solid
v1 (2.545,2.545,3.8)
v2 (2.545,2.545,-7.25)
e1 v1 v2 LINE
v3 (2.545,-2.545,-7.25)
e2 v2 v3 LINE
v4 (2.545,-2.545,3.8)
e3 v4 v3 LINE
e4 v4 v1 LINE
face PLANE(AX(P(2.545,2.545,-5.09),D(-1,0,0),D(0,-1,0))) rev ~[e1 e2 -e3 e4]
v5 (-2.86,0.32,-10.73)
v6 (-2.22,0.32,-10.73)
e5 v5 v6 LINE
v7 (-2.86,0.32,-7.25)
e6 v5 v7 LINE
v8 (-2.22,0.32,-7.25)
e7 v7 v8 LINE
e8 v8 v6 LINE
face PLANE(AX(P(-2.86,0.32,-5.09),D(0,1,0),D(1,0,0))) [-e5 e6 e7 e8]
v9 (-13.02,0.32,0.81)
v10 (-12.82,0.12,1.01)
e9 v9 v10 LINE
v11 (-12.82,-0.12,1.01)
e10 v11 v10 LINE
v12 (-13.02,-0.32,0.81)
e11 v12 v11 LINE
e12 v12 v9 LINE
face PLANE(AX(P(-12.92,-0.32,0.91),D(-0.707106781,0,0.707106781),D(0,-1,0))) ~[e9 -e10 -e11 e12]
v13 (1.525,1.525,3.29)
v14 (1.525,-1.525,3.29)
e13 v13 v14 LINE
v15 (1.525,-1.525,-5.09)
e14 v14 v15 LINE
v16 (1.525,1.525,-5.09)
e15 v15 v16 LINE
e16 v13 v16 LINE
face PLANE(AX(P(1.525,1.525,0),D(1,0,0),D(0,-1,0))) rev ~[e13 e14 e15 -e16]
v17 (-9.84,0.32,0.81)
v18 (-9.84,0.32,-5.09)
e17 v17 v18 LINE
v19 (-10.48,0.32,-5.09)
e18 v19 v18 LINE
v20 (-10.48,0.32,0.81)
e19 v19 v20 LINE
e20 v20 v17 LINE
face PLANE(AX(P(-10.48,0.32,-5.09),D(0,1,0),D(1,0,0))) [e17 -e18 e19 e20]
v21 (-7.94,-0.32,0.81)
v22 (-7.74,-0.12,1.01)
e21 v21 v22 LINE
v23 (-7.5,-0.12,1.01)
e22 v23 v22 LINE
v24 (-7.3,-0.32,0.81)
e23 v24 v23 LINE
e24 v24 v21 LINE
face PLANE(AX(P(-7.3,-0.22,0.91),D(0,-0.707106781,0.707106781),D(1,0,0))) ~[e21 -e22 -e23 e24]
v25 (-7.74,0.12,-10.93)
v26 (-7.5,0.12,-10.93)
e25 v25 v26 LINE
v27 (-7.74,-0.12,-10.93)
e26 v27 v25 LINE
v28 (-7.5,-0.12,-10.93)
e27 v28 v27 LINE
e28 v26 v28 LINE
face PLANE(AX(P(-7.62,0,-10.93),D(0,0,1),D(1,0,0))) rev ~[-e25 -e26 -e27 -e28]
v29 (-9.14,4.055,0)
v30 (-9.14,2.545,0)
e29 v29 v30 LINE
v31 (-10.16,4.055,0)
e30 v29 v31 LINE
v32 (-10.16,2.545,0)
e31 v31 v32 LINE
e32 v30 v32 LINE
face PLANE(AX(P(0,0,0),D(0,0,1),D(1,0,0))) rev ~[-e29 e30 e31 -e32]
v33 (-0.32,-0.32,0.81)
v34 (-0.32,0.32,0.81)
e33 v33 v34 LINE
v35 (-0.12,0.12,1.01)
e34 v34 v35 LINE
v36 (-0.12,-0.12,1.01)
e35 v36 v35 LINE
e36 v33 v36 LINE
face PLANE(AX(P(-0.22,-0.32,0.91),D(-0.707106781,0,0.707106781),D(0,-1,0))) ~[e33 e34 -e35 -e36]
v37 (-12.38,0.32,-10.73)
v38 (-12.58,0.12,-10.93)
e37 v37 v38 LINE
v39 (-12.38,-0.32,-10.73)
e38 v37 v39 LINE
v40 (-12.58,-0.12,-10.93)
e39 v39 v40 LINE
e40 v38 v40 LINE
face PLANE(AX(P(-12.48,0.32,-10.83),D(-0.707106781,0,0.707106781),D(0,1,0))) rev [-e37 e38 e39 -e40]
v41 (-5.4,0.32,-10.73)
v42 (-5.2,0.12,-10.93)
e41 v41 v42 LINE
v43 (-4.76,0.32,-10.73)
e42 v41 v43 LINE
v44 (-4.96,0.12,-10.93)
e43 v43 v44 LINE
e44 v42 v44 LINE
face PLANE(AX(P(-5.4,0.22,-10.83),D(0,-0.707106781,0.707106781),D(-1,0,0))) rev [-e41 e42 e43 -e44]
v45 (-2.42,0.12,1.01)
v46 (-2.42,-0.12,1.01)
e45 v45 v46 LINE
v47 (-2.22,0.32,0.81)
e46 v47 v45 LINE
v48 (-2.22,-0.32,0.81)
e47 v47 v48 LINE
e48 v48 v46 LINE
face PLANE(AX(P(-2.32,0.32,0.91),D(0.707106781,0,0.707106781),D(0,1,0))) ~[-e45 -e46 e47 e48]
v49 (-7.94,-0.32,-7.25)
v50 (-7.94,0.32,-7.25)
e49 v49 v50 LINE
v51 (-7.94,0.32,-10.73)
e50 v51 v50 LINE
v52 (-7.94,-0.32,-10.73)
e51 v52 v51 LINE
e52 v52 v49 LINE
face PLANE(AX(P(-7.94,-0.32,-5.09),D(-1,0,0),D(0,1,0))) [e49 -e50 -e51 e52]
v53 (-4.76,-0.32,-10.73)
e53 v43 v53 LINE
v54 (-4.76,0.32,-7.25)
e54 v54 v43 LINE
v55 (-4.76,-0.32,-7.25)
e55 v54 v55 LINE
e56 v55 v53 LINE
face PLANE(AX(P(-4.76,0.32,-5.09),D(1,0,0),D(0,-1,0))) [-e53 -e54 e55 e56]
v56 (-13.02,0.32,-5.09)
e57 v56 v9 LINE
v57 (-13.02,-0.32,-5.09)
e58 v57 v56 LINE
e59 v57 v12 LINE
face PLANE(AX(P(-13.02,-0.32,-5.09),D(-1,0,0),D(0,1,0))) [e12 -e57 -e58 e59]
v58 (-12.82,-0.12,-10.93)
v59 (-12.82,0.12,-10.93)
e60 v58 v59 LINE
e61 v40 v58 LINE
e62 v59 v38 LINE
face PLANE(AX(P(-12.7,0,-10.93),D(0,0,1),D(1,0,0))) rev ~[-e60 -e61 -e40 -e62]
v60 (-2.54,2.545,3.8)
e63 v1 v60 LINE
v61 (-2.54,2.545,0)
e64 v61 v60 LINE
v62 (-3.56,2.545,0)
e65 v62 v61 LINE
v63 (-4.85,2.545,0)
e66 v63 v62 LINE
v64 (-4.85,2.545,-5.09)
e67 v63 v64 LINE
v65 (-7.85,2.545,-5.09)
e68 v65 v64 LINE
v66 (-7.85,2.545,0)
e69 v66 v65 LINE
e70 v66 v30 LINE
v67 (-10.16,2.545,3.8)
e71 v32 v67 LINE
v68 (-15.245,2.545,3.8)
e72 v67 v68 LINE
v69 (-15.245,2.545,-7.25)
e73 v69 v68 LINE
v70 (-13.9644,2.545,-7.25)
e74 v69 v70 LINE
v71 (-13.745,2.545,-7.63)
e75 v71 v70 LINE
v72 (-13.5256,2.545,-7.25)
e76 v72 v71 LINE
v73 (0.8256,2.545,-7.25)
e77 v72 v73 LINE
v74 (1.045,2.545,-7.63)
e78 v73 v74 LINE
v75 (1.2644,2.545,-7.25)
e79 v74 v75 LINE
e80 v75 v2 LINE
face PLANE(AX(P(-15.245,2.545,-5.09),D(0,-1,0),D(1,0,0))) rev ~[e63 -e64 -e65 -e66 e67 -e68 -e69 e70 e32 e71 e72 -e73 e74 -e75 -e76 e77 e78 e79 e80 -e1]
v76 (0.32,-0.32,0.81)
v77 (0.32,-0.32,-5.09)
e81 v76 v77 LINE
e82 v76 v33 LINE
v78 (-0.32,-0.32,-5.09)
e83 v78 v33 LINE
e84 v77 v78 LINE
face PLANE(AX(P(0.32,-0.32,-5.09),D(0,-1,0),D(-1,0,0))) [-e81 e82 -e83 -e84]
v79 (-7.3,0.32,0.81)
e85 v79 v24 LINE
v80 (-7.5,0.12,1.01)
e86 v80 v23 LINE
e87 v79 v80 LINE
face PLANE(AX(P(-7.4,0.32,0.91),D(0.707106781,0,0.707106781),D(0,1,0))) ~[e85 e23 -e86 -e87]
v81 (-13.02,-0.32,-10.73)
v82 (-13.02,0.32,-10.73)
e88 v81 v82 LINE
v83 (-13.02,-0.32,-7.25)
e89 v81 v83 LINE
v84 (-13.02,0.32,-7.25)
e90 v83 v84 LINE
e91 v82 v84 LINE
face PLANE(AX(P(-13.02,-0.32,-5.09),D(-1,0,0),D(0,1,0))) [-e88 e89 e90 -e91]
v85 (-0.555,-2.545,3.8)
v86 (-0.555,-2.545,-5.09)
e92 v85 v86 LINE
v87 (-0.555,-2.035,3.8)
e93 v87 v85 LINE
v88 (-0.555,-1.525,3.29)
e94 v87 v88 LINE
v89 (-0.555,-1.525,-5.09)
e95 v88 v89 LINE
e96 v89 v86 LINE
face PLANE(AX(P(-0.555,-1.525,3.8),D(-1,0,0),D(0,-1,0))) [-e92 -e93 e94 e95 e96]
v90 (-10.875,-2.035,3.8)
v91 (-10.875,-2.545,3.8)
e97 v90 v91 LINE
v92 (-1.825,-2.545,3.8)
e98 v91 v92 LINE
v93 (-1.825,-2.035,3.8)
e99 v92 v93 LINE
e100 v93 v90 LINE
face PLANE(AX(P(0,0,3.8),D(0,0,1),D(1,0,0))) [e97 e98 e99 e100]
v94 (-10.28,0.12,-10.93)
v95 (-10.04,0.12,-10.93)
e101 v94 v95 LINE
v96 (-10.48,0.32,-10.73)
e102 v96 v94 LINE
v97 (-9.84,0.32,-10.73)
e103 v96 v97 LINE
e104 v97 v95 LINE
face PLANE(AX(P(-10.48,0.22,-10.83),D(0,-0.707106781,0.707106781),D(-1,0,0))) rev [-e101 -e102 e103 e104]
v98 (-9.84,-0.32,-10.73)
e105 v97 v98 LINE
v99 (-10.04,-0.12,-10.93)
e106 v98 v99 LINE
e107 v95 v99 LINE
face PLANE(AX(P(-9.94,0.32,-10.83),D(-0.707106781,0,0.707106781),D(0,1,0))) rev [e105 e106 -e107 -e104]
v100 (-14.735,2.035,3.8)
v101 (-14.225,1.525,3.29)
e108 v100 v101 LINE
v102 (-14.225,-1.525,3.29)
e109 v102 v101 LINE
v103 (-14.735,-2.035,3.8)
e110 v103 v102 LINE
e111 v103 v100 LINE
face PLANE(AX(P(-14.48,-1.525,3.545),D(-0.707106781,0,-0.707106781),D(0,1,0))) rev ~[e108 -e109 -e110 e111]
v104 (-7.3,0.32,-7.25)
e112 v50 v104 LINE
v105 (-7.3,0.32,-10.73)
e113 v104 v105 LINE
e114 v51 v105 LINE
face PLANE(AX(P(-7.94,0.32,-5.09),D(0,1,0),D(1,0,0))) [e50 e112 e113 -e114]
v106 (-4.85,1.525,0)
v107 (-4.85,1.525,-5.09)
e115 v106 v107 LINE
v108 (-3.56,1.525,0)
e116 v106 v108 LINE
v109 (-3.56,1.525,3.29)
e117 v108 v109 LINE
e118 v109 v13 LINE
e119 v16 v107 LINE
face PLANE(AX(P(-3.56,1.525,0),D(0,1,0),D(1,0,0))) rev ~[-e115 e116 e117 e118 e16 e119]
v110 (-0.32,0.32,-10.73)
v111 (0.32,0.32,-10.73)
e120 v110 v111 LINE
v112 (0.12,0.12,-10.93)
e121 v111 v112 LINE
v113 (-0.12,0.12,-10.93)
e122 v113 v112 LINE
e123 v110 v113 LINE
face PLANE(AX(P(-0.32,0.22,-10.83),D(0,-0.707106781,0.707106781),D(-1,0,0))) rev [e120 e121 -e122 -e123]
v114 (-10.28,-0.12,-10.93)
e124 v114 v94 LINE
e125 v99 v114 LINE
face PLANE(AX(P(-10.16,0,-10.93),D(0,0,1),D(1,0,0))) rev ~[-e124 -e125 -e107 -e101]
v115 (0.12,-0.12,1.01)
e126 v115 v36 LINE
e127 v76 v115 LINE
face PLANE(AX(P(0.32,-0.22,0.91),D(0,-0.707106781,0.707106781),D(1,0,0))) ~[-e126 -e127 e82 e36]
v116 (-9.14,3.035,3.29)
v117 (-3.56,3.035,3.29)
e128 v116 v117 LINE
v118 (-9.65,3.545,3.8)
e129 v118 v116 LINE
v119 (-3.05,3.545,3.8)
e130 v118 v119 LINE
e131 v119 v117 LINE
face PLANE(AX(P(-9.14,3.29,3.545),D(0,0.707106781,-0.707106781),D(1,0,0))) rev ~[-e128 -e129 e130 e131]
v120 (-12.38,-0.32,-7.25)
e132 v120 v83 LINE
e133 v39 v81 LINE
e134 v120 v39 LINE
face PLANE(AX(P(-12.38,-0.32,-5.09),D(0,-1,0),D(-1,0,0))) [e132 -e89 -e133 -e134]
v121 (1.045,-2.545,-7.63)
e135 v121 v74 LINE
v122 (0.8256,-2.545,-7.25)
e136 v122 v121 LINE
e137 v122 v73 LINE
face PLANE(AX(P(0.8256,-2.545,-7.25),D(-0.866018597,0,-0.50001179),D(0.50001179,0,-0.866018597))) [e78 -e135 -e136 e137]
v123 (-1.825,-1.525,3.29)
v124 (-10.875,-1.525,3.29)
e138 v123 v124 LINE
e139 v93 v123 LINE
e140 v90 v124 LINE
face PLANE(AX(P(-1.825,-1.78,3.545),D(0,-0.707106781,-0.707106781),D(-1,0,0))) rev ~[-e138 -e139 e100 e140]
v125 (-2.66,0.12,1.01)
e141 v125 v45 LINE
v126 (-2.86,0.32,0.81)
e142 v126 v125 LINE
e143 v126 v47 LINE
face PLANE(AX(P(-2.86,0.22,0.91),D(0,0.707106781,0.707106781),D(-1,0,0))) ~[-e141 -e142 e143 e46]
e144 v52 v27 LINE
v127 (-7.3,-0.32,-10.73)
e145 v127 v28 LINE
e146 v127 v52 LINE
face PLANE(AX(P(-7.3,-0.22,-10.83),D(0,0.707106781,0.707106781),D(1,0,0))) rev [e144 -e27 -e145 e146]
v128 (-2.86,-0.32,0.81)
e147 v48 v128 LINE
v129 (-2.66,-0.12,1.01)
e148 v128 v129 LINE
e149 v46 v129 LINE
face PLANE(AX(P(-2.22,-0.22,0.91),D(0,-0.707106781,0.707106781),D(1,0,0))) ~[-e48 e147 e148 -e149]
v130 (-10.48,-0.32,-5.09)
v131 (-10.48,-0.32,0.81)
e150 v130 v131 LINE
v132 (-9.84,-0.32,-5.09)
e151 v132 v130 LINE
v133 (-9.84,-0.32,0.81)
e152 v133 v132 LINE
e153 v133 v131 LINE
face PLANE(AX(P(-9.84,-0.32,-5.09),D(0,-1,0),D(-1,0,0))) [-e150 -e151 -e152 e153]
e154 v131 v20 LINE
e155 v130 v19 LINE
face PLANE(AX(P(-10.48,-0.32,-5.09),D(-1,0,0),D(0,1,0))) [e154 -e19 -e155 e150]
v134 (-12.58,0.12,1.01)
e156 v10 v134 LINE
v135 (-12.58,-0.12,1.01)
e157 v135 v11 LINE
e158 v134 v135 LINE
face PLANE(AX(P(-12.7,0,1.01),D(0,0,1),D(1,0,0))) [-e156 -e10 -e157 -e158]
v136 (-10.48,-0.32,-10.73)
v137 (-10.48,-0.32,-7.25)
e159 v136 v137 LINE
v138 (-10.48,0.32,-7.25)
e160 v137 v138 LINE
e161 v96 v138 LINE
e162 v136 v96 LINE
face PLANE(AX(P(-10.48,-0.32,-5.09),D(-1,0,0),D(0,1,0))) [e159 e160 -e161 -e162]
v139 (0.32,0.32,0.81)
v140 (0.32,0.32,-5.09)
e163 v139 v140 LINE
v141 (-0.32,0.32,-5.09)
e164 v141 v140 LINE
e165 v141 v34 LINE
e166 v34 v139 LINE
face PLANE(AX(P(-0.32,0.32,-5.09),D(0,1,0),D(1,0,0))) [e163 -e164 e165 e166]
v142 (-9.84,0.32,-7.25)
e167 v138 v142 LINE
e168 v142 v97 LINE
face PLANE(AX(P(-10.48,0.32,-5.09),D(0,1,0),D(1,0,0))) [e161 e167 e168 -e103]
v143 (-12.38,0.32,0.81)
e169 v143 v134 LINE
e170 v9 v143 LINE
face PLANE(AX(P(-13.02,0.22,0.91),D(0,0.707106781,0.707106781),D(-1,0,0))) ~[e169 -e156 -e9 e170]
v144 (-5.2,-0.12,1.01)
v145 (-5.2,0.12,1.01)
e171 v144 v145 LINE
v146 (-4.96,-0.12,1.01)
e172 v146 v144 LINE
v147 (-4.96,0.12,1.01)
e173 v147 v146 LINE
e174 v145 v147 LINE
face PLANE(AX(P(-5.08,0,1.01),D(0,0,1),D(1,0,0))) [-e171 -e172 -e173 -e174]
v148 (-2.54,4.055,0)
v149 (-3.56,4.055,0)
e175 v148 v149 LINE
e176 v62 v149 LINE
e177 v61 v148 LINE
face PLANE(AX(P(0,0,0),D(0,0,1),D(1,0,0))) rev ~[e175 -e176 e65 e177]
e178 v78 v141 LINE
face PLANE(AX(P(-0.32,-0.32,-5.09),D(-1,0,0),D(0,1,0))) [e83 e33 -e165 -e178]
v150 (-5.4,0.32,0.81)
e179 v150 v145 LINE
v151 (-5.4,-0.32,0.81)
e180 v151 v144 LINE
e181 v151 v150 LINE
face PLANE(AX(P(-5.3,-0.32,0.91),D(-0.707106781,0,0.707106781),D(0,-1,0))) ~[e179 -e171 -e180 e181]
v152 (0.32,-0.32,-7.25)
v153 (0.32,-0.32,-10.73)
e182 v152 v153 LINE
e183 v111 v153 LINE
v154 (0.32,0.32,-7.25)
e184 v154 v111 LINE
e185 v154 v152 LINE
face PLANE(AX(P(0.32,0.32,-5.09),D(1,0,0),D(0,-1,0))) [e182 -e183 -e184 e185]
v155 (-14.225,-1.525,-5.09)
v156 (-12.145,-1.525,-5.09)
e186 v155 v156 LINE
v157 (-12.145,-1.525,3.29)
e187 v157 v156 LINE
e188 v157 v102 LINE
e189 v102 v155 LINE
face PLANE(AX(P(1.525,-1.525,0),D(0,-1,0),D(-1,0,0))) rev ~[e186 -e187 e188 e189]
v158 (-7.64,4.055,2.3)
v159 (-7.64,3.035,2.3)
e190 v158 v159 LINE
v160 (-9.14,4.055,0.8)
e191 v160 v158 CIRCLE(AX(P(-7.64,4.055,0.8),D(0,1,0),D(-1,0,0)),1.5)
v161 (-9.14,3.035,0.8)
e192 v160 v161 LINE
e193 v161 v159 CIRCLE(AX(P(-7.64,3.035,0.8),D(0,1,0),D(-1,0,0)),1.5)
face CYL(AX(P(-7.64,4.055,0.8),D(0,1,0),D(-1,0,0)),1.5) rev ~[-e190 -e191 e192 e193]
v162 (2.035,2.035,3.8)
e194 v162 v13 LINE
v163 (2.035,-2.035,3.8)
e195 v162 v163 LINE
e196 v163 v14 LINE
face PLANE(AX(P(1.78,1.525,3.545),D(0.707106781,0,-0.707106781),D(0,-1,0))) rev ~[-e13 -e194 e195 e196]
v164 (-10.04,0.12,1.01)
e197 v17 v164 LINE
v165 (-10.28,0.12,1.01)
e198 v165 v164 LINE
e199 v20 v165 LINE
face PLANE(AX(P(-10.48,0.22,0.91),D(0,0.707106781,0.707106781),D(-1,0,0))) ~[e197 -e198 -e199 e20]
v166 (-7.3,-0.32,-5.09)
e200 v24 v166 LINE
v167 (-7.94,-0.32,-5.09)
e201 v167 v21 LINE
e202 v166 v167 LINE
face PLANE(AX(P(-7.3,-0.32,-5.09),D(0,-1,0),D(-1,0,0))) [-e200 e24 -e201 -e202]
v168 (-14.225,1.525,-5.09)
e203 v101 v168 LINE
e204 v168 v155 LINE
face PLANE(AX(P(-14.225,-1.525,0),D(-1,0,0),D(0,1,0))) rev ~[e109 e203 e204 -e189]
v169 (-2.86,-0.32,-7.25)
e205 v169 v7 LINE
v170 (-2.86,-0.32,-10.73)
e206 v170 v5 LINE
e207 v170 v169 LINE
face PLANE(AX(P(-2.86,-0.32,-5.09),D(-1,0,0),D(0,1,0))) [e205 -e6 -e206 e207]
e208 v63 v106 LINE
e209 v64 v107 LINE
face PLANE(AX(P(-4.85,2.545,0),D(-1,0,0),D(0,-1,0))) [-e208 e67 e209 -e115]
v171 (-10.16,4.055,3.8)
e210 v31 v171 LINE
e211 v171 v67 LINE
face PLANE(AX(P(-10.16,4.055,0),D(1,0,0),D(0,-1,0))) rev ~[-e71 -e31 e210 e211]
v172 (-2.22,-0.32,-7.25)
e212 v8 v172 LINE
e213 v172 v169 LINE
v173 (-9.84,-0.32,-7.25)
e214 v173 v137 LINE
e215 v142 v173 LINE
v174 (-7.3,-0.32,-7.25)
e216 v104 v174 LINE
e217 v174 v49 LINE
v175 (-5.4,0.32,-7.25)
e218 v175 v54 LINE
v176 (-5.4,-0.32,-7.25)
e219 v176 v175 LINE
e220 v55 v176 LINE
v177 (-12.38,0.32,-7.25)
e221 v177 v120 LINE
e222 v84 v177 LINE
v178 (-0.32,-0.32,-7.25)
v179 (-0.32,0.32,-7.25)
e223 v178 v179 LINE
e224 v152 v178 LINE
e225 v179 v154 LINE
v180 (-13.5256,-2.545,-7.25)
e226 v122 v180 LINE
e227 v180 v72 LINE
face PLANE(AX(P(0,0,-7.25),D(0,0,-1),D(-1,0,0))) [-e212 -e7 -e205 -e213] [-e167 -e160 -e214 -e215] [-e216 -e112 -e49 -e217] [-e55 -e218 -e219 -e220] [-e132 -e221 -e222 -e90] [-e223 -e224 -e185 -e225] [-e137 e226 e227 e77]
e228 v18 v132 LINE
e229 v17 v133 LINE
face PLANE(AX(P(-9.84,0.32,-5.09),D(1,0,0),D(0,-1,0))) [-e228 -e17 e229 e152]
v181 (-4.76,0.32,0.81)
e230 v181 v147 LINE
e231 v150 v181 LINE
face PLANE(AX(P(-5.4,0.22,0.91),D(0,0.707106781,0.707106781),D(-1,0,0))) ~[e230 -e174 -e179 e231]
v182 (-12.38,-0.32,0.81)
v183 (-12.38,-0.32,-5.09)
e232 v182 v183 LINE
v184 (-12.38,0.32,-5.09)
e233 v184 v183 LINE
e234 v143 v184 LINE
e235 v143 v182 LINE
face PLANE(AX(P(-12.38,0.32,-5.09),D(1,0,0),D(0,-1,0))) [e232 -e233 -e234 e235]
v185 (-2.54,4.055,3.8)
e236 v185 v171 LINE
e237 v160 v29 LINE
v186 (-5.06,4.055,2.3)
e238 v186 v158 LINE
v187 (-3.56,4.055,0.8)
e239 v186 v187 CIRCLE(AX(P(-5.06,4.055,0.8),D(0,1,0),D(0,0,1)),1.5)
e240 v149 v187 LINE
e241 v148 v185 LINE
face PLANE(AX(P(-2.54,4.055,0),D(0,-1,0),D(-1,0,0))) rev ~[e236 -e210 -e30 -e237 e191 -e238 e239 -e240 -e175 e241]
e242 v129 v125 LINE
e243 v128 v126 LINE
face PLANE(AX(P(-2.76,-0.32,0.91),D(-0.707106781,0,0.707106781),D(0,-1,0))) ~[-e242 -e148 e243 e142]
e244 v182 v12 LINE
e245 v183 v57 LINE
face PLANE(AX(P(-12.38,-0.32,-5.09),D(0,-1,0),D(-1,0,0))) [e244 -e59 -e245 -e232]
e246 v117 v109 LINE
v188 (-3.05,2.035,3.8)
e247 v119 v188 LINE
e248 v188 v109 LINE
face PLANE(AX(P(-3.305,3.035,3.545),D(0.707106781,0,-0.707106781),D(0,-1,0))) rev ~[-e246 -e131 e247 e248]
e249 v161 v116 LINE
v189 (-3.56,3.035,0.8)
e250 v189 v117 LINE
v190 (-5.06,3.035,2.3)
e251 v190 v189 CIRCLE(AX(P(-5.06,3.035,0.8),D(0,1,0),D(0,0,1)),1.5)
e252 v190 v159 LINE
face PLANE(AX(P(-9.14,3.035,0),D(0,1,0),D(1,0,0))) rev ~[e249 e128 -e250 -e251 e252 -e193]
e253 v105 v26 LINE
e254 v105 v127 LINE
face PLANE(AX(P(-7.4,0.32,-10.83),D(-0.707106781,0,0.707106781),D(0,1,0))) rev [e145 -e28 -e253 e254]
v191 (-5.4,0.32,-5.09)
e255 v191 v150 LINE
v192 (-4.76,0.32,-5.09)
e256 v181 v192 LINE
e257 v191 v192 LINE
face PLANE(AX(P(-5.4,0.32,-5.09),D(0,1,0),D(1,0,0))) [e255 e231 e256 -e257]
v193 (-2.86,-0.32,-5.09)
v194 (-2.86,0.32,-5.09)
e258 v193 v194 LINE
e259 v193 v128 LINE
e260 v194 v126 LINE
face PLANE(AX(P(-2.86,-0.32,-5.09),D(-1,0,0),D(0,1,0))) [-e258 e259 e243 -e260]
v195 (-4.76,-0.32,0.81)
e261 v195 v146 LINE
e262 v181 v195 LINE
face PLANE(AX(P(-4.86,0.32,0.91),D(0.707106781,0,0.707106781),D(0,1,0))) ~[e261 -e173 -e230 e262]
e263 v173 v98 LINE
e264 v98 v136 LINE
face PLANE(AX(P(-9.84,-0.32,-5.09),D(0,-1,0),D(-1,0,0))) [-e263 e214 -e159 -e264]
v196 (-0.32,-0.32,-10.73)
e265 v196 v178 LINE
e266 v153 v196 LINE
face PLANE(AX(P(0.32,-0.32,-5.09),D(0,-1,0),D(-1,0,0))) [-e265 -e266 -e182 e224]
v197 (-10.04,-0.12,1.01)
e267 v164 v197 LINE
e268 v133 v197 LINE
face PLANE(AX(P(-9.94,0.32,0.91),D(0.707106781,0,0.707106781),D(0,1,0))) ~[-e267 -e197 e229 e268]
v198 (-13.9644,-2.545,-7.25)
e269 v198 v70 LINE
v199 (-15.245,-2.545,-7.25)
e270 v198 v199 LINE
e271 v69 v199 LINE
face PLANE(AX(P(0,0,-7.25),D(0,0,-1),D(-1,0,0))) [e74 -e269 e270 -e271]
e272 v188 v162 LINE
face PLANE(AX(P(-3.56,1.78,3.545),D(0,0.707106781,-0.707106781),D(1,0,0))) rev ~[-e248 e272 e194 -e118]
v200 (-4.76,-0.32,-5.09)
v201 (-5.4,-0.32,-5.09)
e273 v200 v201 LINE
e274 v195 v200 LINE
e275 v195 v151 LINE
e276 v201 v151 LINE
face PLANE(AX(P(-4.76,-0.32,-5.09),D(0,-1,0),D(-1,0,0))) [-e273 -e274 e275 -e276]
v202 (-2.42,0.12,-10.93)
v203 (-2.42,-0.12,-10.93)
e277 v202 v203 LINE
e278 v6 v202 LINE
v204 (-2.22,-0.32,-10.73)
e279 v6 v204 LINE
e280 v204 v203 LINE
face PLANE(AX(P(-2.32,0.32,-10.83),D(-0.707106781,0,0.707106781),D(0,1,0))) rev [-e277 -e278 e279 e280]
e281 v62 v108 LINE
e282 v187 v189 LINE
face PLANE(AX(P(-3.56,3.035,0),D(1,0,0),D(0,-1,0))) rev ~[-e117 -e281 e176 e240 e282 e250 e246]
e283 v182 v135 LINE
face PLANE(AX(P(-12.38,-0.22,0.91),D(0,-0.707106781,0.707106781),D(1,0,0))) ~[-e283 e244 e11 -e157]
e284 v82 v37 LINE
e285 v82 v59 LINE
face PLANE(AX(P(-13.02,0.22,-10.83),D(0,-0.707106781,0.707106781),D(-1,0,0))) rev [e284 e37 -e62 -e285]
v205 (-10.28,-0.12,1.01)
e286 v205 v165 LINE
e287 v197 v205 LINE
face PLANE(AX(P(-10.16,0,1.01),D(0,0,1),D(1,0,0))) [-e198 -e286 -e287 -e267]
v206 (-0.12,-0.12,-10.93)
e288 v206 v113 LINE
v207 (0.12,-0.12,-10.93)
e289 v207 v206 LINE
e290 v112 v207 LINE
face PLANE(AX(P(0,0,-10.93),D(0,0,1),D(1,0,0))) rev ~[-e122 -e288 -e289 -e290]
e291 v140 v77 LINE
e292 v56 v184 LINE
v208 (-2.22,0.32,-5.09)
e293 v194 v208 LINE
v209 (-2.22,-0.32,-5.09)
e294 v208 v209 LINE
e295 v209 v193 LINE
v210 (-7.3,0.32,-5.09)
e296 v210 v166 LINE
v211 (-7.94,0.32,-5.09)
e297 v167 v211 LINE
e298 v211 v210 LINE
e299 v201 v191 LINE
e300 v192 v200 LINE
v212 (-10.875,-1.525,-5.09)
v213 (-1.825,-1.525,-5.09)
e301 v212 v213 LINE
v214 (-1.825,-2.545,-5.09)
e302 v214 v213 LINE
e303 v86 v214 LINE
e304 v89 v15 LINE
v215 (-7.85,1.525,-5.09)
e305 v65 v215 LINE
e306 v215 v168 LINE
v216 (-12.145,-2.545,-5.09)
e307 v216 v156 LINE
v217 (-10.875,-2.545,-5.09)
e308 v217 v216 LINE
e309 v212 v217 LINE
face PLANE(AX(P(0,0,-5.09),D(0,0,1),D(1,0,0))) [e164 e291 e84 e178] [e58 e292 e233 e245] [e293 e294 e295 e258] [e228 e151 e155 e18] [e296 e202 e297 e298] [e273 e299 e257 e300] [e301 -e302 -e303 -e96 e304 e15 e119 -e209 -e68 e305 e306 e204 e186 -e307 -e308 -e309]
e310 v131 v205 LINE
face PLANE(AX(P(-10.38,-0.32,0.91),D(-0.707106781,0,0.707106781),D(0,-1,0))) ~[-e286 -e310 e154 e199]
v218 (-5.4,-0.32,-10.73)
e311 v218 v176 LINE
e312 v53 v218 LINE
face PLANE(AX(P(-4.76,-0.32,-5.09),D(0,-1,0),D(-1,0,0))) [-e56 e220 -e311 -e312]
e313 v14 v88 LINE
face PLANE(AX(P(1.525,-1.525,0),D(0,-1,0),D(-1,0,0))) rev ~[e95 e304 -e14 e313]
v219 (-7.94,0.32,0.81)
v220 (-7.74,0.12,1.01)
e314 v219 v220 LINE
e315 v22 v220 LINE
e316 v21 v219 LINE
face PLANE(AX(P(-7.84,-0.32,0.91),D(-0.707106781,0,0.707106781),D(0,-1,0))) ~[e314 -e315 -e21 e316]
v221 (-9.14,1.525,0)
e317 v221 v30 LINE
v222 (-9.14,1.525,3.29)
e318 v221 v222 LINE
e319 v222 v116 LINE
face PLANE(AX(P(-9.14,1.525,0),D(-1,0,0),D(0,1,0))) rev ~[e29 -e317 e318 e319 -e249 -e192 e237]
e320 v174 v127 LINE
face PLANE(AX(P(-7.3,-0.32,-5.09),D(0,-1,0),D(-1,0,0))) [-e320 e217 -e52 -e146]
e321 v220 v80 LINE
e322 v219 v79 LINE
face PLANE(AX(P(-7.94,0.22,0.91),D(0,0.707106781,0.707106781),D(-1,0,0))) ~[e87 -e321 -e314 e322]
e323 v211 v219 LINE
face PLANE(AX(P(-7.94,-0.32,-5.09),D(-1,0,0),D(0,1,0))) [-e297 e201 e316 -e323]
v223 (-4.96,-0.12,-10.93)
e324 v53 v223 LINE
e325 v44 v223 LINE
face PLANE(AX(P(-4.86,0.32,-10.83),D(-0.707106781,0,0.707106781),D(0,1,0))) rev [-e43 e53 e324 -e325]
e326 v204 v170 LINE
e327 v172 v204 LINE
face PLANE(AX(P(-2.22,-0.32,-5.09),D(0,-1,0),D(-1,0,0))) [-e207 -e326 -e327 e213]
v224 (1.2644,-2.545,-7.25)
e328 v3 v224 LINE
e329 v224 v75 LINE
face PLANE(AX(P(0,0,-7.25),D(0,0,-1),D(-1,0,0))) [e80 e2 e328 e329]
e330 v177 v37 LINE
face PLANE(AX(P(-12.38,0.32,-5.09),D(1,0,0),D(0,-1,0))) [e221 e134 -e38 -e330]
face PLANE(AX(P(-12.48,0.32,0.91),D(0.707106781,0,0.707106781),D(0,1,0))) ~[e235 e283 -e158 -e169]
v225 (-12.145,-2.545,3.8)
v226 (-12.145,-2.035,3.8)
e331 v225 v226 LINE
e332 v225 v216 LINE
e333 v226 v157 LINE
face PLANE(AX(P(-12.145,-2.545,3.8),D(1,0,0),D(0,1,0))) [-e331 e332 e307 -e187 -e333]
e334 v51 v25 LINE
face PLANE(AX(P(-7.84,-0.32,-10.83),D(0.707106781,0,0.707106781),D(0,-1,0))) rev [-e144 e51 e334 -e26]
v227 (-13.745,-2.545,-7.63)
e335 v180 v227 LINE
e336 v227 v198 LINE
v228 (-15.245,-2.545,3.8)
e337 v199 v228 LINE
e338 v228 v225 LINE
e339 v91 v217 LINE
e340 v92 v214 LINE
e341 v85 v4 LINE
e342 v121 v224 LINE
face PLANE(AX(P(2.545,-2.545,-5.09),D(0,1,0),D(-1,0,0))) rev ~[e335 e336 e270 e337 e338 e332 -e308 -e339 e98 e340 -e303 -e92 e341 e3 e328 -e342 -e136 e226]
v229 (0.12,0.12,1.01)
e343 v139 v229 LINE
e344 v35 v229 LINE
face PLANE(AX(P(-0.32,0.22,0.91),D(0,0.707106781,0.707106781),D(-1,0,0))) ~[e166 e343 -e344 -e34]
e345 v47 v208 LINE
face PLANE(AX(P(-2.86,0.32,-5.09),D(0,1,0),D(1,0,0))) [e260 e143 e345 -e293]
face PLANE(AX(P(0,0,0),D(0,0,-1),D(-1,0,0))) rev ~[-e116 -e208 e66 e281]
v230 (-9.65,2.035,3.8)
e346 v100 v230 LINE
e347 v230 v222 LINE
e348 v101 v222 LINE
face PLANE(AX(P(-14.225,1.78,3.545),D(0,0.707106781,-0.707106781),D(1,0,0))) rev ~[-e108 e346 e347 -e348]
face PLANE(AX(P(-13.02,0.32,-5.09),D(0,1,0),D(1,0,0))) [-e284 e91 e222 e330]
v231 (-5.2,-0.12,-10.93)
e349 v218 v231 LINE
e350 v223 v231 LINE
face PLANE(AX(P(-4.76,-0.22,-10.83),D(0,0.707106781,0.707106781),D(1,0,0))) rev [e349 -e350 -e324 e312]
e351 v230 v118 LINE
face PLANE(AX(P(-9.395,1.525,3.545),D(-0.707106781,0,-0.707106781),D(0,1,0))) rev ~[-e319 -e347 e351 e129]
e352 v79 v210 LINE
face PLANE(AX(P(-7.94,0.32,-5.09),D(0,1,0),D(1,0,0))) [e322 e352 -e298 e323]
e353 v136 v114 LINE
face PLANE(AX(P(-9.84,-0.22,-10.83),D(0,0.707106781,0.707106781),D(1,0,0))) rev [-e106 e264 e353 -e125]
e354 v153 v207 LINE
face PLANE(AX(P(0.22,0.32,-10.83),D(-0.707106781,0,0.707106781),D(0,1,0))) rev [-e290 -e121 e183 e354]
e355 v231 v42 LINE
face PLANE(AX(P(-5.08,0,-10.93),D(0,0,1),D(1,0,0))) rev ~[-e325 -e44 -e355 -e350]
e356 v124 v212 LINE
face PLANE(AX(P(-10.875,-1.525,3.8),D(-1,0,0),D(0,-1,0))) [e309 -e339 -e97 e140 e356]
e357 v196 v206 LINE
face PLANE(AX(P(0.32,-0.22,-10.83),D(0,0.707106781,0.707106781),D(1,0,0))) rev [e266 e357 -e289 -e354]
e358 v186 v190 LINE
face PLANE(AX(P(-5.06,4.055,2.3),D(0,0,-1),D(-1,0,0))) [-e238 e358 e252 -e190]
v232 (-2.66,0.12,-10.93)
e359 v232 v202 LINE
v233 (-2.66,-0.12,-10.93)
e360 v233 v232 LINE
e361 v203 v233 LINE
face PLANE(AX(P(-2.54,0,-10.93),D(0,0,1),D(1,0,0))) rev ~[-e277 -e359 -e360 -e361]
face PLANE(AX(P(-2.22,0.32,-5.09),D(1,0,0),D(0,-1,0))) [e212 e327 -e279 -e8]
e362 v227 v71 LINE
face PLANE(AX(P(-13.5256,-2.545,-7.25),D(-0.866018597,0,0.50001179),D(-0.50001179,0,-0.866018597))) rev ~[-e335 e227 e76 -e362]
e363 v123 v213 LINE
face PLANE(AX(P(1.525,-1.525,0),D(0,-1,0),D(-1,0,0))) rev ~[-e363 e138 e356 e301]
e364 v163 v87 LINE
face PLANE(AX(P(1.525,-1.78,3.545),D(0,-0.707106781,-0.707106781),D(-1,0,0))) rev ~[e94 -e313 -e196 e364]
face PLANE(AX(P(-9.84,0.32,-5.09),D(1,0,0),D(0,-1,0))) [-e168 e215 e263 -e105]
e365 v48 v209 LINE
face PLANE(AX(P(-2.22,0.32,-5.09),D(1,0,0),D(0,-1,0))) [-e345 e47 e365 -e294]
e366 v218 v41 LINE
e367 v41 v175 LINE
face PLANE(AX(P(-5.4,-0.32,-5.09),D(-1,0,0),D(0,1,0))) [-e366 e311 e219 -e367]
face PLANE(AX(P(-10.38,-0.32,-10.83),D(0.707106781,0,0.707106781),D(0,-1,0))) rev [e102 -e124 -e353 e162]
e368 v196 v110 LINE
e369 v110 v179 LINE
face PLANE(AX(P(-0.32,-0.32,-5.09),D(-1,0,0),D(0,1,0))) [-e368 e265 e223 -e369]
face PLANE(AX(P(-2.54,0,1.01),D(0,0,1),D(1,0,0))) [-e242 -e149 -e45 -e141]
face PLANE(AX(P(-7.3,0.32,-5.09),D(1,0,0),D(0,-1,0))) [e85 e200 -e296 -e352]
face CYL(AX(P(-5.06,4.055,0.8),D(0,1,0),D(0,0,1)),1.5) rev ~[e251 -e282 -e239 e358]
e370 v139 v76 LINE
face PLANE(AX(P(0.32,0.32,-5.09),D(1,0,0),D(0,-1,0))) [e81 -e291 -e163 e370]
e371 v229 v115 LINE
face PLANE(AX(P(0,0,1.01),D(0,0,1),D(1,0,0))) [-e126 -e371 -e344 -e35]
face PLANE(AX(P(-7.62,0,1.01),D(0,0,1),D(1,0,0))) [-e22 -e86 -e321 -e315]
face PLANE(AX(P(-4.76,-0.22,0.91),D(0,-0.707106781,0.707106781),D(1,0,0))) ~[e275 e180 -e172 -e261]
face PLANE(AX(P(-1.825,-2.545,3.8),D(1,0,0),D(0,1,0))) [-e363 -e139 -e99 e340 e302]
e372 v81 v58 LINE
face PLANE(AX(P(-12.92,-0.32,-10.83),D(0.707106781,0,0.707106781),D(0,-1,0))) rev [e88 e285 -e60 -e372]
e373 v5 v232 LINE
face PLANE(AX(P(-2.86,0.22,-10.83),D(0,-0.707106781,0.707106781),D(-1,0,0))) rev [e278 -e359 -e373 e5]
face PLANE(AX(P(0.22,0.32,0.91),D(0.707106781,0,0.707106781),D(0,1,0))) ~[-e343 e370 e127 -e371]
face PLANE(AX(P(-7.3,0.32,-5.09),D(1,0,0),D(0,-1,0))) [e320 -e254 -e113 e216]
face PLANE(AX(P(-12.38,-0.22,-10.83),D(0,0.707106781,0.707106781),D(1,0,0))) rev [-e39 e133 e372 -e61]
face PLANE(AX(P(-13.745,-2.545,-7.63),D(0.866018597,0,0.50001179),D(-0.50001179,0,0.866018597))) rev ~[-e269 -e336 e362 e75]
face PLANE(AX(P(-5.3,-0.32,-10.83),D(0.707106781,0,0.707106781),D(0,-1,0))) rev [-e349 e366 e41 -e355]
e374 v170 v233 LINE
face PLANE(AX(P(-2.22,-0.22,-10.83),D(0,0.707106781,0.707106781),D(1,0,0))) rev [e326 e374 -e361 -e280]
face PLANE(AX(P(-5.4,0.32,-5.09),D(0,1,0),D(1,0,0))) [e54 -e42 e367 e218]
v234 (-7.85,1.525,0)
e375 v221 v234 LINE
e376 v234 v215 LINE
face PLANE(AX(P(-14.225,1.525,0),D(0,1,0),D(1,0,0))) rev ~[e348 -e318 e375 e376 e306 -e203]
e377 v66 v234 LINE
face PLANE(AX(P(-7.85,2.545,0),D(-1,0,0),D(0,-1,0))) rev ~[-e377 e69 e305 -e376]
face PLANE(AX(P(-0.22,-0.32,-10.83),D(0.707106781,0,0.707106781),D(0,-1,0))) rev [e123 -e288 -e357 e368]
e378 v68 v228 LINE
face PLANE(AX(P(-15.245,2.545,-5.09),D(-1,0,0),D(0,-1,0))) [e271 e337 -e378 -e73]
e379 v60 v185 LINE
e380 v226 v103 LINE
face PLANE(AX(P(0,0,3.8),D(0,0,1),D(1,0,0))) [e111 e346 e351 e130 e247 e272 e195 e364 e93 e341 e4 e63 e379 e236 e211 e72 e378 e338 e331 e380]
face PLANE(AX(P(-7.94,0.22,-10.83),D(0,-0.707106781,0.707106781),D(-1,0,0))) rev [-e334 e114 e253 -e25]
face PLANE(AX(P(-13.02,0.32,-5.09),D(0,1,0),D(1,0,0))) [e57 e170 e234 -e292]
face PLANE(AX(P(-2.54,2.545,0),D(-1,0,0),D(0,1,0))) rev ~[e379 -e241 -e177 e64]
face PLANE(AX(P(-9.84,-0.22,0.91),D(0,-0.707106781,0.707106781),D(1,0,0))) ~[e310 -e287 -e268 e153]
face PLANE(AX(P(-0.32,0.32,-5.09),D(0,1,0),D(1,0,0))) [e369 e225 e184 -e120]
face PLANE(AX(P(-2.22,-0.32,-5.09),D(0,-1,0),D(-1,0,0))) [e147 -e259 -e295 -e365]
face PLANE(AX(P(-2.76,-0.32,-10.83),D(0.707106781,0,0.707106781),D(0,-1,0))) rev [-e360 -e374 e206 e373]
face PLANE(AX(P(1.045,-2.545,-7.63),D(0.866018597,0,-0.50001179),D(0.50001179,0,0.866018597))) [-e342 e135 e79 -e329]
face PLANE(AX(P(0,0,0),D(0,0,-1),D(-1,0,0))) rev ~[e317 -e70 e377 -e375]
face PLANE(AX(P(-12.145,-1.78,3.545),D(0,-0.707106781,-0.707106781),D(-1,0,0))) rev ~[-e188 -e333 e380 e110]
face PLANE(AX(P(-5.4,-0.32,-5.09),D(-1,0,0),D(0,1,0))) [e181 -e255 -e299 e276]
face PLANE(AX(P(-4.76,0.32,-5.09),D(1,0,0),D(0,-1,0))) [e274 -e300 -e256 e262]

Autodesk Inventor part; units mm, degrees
ref_plane "YZ Plane" through (0, 0, 0) normal (1, 0, 0) x (0, 1, 0)
ref_plane "XZ Plane" through (0, 0, 0) normal (0, 1, 0) x (-1, 0, 0)
ref_plane "XY Plane" through (0, 0, 0) normal (0, 0, 1) x (1, 0, 0)
sketch "Skizze1" plane through (0, 0, 0) normal (0, 0, 1) x (1, 0, 0)
  line L0 (-15.245, -2.545) -> (2.545, -2.545)
  line L1 (2.545, -2.545) -> (2.545, 2.545)
  line L2 (2.545, 2.545) -> (-2.54, 2.545)
  line L3 (-2.54, 2.545) -> (-2.54, 4.055)
  line L4 (-2.54, 4.055) -> (-10.16, 4.055)
  line L5 (-10.16, 4.055) -> (-10.16, 2.545)
  line L6 (-10.16, 2.545) -> (-15.245, 2.545)
  line L7 (-15.245, 2.545) -> (-15.245, -2.545)
  line L8 (-9.14, 3.035) -> (-3.56, 3.035)
  line L9 (-3.56, 3.035) -> (-3.56, 1.525)
  line L10 (-3.56, 1.525) -> (1.525, 1.525)
  line L11 (1.525, 1.525) -> (1.525, -1.525)
  line L12 (1.525, -1.525) -> (-14.225, -1.525)
  line L13 (-14.225, -1.525) -> (-14.225, 1.525)
  line L14 (-14.225, 1.525) -> (-9.14, 1.525)
  line L15 (-9.14, 1.525) -> (-9.14, 3.035)
  line L16 (-14.225, 0) -> (-12.7, 0) construction
  line L17 (-12.7, 0) -> (0, 0) construction
  line L18 (0, 0) -> (1.525, 0) construction
  point P0 (0, -2.035)
  dimension "d0" = 1.02
  dimension "d1" = 3.05
  dimension "d3" = 7.62
  dimension "d4" = 6.6
  dimension "d5" = 1.525
  dimension "d6" = 12.7
extrude "Extrusion1" add sketch "Skizze1" along normal blind 3.8
sketch "Skizze2" plane through (0, 0, 0) normal (0, 0, -1) x (-1, 0, 0)
  line L0 (-2.545, -2.545) -> (-2.545, 2.545) projected
  line L1 (-2.545, 2.545) -> (2.54, 2.545) projected
  line L2 (-1.525, 1.525) -> (3.56, 1.525) projected
  line L3 (-1.525, -1.525) -> (-1.525, 1.525) projected
  line L4 (14.225, -1.525) -> (-1.525, -1.525) projected
  line L5 (15.245, -2.545) -> (-2.545, -2.545) projected
  line L6 (15.245, 2.545) -> (15.245, -2.545) projected
  line L7 (14.225, 1.525) -> (14.225, -1.525) projected
  line L8 (9.14, 1.525) -> (14.225, 1.525) projected
  line L9 (10.16, 2.545) -> (15.245, 2.545) projected
  line L10 (3.56, 1.525) -> (4.85, 1.525)
  line L11 (2.54, 2.545) -> (2.54, 4.055) projected
  line L12 (2.54, 2.545) -> (4.85, 2.545)
  line L13 (4.85, 2.545) -> (4.85, 1.525)
  line L14 (9.14, 1.525) -> (9.14, 3.035) projected
  line L15 (9.14, 1.525) -> (7.85, 1.525)
  line L16 (10.16, 2.545) -> (7.85, 2.545)
  line L17 (7.85, 2.545) -> (7.85, 1.525)
  point P0 (0, 0)
  dimension "d9" = 3
extrude "Extrusion2" add sketch "Skizze2" along normal blind 5.09
sketch "Skizze3" plane through (0, 0, -5.09) normal (0, 0, -1) x (-1, 0, 0)
  line L0 (-2.545, 2.545) -> (-2.545, -2.545) projected
  line L1 (15.245, 2.545) -> (15.245, -2.545) projected
  line L2 (-2.545, -2.545) -> (15.245, -2.545)
  line L3 (15.245, -2.545) -> (15.245, 2.545)
  line L4 (15.245, 2.545) -> (-2.545, 2.545)
  line L5 (-2.545, 2.545) -> (-2.545, -2.545)
  point P0 (0, 0)
extrude "Extrusion3" add sketch "Skizze3" along normal blind 2.16
sketch "Skizze4" plane through (-10.16, 4.055, 0) normal (0, 1, 0) x (1, 0, 0)
  line L0 (7.62, -3.8) -> (0, -3.8) construction
  line L1 (1.02, 0) -> (2.31, 0) projected
  line L2 (5.1, -2.3) -> (2.52, -2.3)
  line L3 (1.02, -0.8) -> (1.02, 0)
  line L4 (1.02, 0) -> (6.6, 0)
  line L5 (6.6, 0) -> (6.6, -0.8)
  arc A0 (5.1, -2.3) -> (6.6, -0.8) centre (5.1, -0.8) ccw
  arc A1 (1.02, -0.8) -> (2.52, -2.3) centre (2.52, -0.8) ccw
  line L6 (0, 0) -> (0, -3.8) construction
  line L7 (6.6, 0) -> (6.6, -3.8) construction
  line L8 (6.6, 0) -> (6.6, -3.8) construction
  line L9 (1.02, 0) -> (1.02, -3.8) construction
  line L10 (1.02, 0) -> (1.02, -3.8) construction
  point P0 (10.16, 0)
  dimension "d14" = 1.5
  dimension "d15" = 1.5
extrude "Extrusion4" cut sketch "Skizze4" against normal up to surface (1.02 mm away)
sketch "Skizze5" plane through (-15.245, -2.545, 3.8) normal (0, -1, 0) x (1, 0, 0)
  line L0 (0, -11.05) -> (1.2806, -11.05) construction
  line L1 (17.79, -11.05) -> (16.5094, -11.05) construction
  line L2 (1.2806, -11.05) -> (1.7194, -11.05)
  line L3 (1.7194, -11.05) -> (16.0706, -11.05) construction
  line L4 (16.0706, -11.05) -> (16.5094, -11.05)
  line L5 (16.0706, -11.05) -> (16.29, -11.43)
  line L6 (16.29, -11.43) -> (16.5094, -11.05)
  line L7 (1.7194, -11.05) -> (1.5, -11.43)
  line L8 (1.5, -11.43) -> (1.2806, -11.05)
  line L9 (17.79, -11.05) -> (17.79, 0) projected
  point P0 (15.245, -3.8)
  point P1 (0, -11.05)
  dimension "d18" = 0.38
  dimension "d19" = 1.5
extrude "Extrusion5" add sketch "Skizze5" against normal up to surface (5.09 mm away)
sketch "Skizze6" plane through (0, 0, -5.09) normal (0, 0, 1) x (1, 0, 0)
  line L0 (-0.32, 0.32) -> (0.32, 0.32)
  line L1 (0.32, 0.32) -> (0.32, -0.32)
  line L2 (0.32, -0.32) -> (-0.32, -0.32)
  line L3 (-0.32, -0.32) -> (-0.32, 0.32)
  line L4 (0.32, -0.32) -> (-0.32, 0.32) construction
  point P0 (0, 0)
  point P1 (0, 0)
  dimension "d22" = 0.64
extrude "Extrusion6" add sketch "Skizze6" along normal blind 6.1 and the other way blind 5.84
chamfer "Fase1" distance 0.2 angle 45 8 edges at (0, 0.32, 1.01) (0.32, 0, 1.01) (0, -0.32, 1.01) (-0.32, 0, 1.01) (0.32, 0, -10.93) (-0.32, 0, -10.93) (0, -0.32, -10.93) (0, 0.32, -10.93)
pattern_linear "Rechteckige Anordnung1" count 6 spacing 2.54 along (-1, 0, 0) of "Extrusion6", "Fase1"
sketch "Skizze8" plane through (0, 0, 3.8) normal (0, 0, 1) x (1, 0, 0)
  line L0 (1.525, -1.525) -> (-14.225, -1.525) construction
  line L1 (-15.245, -2.545) -> (2.545, -2.545) construction
  line L2 (-1.825, -2.035) -> (-10.875, -2.035) construction
  line L3 (-6.35, -2.545) -> (-6.35, -2.035) construction
  line L4 (-12.145, -1.525) -> (-10.875, -1.525)
  line L5 (-10.875, -1.525) -> (-10.875, -2.545)
  line L6 (-10.875, -2.545) -> (-12.145, -2.545)
  line L7 (-12.145, -2.545) -> (-12.145, -1.525)
  line L8 (-1.825, -1.525) -> (-0.555, -1.525)
  line L9 (-0.555, -1.525) -> (-0.555, -2.545)
  line L10 (-0.555, -2.545) -> (-1.825, -2.545)
  line L11 (-1.825, -2.545) -> (-1.825, -1.525)
  line L12 (-15.245, 2.545) -> (-15.245, -2.545) projected
  point P0 (0, 0)
  dimension "d33" = 1.27
  dimension "d34" = 3.1
extrude "Extrusion7" cut sketch "Skizze8" against normal up to surface (8.89 mm away)
chamfer "Fase2" distance 0.51 angle 45 10 edges at (-14.225, 0, 3.8) (-13.185, -1.525, 3.8) (-11.6825, 1.525, 3.8) (-9.14, 2.28, 3.8) (-6.35, 3.035, 3.8) (-3.56, 2.28, 3.8) (-1.0175, 1.525, 3.8) (1.525, 0, 3.8) (0.485, -1.525, 3.8) (-6.35, -1.525, 3.8)
properties part number "Molex_&"
